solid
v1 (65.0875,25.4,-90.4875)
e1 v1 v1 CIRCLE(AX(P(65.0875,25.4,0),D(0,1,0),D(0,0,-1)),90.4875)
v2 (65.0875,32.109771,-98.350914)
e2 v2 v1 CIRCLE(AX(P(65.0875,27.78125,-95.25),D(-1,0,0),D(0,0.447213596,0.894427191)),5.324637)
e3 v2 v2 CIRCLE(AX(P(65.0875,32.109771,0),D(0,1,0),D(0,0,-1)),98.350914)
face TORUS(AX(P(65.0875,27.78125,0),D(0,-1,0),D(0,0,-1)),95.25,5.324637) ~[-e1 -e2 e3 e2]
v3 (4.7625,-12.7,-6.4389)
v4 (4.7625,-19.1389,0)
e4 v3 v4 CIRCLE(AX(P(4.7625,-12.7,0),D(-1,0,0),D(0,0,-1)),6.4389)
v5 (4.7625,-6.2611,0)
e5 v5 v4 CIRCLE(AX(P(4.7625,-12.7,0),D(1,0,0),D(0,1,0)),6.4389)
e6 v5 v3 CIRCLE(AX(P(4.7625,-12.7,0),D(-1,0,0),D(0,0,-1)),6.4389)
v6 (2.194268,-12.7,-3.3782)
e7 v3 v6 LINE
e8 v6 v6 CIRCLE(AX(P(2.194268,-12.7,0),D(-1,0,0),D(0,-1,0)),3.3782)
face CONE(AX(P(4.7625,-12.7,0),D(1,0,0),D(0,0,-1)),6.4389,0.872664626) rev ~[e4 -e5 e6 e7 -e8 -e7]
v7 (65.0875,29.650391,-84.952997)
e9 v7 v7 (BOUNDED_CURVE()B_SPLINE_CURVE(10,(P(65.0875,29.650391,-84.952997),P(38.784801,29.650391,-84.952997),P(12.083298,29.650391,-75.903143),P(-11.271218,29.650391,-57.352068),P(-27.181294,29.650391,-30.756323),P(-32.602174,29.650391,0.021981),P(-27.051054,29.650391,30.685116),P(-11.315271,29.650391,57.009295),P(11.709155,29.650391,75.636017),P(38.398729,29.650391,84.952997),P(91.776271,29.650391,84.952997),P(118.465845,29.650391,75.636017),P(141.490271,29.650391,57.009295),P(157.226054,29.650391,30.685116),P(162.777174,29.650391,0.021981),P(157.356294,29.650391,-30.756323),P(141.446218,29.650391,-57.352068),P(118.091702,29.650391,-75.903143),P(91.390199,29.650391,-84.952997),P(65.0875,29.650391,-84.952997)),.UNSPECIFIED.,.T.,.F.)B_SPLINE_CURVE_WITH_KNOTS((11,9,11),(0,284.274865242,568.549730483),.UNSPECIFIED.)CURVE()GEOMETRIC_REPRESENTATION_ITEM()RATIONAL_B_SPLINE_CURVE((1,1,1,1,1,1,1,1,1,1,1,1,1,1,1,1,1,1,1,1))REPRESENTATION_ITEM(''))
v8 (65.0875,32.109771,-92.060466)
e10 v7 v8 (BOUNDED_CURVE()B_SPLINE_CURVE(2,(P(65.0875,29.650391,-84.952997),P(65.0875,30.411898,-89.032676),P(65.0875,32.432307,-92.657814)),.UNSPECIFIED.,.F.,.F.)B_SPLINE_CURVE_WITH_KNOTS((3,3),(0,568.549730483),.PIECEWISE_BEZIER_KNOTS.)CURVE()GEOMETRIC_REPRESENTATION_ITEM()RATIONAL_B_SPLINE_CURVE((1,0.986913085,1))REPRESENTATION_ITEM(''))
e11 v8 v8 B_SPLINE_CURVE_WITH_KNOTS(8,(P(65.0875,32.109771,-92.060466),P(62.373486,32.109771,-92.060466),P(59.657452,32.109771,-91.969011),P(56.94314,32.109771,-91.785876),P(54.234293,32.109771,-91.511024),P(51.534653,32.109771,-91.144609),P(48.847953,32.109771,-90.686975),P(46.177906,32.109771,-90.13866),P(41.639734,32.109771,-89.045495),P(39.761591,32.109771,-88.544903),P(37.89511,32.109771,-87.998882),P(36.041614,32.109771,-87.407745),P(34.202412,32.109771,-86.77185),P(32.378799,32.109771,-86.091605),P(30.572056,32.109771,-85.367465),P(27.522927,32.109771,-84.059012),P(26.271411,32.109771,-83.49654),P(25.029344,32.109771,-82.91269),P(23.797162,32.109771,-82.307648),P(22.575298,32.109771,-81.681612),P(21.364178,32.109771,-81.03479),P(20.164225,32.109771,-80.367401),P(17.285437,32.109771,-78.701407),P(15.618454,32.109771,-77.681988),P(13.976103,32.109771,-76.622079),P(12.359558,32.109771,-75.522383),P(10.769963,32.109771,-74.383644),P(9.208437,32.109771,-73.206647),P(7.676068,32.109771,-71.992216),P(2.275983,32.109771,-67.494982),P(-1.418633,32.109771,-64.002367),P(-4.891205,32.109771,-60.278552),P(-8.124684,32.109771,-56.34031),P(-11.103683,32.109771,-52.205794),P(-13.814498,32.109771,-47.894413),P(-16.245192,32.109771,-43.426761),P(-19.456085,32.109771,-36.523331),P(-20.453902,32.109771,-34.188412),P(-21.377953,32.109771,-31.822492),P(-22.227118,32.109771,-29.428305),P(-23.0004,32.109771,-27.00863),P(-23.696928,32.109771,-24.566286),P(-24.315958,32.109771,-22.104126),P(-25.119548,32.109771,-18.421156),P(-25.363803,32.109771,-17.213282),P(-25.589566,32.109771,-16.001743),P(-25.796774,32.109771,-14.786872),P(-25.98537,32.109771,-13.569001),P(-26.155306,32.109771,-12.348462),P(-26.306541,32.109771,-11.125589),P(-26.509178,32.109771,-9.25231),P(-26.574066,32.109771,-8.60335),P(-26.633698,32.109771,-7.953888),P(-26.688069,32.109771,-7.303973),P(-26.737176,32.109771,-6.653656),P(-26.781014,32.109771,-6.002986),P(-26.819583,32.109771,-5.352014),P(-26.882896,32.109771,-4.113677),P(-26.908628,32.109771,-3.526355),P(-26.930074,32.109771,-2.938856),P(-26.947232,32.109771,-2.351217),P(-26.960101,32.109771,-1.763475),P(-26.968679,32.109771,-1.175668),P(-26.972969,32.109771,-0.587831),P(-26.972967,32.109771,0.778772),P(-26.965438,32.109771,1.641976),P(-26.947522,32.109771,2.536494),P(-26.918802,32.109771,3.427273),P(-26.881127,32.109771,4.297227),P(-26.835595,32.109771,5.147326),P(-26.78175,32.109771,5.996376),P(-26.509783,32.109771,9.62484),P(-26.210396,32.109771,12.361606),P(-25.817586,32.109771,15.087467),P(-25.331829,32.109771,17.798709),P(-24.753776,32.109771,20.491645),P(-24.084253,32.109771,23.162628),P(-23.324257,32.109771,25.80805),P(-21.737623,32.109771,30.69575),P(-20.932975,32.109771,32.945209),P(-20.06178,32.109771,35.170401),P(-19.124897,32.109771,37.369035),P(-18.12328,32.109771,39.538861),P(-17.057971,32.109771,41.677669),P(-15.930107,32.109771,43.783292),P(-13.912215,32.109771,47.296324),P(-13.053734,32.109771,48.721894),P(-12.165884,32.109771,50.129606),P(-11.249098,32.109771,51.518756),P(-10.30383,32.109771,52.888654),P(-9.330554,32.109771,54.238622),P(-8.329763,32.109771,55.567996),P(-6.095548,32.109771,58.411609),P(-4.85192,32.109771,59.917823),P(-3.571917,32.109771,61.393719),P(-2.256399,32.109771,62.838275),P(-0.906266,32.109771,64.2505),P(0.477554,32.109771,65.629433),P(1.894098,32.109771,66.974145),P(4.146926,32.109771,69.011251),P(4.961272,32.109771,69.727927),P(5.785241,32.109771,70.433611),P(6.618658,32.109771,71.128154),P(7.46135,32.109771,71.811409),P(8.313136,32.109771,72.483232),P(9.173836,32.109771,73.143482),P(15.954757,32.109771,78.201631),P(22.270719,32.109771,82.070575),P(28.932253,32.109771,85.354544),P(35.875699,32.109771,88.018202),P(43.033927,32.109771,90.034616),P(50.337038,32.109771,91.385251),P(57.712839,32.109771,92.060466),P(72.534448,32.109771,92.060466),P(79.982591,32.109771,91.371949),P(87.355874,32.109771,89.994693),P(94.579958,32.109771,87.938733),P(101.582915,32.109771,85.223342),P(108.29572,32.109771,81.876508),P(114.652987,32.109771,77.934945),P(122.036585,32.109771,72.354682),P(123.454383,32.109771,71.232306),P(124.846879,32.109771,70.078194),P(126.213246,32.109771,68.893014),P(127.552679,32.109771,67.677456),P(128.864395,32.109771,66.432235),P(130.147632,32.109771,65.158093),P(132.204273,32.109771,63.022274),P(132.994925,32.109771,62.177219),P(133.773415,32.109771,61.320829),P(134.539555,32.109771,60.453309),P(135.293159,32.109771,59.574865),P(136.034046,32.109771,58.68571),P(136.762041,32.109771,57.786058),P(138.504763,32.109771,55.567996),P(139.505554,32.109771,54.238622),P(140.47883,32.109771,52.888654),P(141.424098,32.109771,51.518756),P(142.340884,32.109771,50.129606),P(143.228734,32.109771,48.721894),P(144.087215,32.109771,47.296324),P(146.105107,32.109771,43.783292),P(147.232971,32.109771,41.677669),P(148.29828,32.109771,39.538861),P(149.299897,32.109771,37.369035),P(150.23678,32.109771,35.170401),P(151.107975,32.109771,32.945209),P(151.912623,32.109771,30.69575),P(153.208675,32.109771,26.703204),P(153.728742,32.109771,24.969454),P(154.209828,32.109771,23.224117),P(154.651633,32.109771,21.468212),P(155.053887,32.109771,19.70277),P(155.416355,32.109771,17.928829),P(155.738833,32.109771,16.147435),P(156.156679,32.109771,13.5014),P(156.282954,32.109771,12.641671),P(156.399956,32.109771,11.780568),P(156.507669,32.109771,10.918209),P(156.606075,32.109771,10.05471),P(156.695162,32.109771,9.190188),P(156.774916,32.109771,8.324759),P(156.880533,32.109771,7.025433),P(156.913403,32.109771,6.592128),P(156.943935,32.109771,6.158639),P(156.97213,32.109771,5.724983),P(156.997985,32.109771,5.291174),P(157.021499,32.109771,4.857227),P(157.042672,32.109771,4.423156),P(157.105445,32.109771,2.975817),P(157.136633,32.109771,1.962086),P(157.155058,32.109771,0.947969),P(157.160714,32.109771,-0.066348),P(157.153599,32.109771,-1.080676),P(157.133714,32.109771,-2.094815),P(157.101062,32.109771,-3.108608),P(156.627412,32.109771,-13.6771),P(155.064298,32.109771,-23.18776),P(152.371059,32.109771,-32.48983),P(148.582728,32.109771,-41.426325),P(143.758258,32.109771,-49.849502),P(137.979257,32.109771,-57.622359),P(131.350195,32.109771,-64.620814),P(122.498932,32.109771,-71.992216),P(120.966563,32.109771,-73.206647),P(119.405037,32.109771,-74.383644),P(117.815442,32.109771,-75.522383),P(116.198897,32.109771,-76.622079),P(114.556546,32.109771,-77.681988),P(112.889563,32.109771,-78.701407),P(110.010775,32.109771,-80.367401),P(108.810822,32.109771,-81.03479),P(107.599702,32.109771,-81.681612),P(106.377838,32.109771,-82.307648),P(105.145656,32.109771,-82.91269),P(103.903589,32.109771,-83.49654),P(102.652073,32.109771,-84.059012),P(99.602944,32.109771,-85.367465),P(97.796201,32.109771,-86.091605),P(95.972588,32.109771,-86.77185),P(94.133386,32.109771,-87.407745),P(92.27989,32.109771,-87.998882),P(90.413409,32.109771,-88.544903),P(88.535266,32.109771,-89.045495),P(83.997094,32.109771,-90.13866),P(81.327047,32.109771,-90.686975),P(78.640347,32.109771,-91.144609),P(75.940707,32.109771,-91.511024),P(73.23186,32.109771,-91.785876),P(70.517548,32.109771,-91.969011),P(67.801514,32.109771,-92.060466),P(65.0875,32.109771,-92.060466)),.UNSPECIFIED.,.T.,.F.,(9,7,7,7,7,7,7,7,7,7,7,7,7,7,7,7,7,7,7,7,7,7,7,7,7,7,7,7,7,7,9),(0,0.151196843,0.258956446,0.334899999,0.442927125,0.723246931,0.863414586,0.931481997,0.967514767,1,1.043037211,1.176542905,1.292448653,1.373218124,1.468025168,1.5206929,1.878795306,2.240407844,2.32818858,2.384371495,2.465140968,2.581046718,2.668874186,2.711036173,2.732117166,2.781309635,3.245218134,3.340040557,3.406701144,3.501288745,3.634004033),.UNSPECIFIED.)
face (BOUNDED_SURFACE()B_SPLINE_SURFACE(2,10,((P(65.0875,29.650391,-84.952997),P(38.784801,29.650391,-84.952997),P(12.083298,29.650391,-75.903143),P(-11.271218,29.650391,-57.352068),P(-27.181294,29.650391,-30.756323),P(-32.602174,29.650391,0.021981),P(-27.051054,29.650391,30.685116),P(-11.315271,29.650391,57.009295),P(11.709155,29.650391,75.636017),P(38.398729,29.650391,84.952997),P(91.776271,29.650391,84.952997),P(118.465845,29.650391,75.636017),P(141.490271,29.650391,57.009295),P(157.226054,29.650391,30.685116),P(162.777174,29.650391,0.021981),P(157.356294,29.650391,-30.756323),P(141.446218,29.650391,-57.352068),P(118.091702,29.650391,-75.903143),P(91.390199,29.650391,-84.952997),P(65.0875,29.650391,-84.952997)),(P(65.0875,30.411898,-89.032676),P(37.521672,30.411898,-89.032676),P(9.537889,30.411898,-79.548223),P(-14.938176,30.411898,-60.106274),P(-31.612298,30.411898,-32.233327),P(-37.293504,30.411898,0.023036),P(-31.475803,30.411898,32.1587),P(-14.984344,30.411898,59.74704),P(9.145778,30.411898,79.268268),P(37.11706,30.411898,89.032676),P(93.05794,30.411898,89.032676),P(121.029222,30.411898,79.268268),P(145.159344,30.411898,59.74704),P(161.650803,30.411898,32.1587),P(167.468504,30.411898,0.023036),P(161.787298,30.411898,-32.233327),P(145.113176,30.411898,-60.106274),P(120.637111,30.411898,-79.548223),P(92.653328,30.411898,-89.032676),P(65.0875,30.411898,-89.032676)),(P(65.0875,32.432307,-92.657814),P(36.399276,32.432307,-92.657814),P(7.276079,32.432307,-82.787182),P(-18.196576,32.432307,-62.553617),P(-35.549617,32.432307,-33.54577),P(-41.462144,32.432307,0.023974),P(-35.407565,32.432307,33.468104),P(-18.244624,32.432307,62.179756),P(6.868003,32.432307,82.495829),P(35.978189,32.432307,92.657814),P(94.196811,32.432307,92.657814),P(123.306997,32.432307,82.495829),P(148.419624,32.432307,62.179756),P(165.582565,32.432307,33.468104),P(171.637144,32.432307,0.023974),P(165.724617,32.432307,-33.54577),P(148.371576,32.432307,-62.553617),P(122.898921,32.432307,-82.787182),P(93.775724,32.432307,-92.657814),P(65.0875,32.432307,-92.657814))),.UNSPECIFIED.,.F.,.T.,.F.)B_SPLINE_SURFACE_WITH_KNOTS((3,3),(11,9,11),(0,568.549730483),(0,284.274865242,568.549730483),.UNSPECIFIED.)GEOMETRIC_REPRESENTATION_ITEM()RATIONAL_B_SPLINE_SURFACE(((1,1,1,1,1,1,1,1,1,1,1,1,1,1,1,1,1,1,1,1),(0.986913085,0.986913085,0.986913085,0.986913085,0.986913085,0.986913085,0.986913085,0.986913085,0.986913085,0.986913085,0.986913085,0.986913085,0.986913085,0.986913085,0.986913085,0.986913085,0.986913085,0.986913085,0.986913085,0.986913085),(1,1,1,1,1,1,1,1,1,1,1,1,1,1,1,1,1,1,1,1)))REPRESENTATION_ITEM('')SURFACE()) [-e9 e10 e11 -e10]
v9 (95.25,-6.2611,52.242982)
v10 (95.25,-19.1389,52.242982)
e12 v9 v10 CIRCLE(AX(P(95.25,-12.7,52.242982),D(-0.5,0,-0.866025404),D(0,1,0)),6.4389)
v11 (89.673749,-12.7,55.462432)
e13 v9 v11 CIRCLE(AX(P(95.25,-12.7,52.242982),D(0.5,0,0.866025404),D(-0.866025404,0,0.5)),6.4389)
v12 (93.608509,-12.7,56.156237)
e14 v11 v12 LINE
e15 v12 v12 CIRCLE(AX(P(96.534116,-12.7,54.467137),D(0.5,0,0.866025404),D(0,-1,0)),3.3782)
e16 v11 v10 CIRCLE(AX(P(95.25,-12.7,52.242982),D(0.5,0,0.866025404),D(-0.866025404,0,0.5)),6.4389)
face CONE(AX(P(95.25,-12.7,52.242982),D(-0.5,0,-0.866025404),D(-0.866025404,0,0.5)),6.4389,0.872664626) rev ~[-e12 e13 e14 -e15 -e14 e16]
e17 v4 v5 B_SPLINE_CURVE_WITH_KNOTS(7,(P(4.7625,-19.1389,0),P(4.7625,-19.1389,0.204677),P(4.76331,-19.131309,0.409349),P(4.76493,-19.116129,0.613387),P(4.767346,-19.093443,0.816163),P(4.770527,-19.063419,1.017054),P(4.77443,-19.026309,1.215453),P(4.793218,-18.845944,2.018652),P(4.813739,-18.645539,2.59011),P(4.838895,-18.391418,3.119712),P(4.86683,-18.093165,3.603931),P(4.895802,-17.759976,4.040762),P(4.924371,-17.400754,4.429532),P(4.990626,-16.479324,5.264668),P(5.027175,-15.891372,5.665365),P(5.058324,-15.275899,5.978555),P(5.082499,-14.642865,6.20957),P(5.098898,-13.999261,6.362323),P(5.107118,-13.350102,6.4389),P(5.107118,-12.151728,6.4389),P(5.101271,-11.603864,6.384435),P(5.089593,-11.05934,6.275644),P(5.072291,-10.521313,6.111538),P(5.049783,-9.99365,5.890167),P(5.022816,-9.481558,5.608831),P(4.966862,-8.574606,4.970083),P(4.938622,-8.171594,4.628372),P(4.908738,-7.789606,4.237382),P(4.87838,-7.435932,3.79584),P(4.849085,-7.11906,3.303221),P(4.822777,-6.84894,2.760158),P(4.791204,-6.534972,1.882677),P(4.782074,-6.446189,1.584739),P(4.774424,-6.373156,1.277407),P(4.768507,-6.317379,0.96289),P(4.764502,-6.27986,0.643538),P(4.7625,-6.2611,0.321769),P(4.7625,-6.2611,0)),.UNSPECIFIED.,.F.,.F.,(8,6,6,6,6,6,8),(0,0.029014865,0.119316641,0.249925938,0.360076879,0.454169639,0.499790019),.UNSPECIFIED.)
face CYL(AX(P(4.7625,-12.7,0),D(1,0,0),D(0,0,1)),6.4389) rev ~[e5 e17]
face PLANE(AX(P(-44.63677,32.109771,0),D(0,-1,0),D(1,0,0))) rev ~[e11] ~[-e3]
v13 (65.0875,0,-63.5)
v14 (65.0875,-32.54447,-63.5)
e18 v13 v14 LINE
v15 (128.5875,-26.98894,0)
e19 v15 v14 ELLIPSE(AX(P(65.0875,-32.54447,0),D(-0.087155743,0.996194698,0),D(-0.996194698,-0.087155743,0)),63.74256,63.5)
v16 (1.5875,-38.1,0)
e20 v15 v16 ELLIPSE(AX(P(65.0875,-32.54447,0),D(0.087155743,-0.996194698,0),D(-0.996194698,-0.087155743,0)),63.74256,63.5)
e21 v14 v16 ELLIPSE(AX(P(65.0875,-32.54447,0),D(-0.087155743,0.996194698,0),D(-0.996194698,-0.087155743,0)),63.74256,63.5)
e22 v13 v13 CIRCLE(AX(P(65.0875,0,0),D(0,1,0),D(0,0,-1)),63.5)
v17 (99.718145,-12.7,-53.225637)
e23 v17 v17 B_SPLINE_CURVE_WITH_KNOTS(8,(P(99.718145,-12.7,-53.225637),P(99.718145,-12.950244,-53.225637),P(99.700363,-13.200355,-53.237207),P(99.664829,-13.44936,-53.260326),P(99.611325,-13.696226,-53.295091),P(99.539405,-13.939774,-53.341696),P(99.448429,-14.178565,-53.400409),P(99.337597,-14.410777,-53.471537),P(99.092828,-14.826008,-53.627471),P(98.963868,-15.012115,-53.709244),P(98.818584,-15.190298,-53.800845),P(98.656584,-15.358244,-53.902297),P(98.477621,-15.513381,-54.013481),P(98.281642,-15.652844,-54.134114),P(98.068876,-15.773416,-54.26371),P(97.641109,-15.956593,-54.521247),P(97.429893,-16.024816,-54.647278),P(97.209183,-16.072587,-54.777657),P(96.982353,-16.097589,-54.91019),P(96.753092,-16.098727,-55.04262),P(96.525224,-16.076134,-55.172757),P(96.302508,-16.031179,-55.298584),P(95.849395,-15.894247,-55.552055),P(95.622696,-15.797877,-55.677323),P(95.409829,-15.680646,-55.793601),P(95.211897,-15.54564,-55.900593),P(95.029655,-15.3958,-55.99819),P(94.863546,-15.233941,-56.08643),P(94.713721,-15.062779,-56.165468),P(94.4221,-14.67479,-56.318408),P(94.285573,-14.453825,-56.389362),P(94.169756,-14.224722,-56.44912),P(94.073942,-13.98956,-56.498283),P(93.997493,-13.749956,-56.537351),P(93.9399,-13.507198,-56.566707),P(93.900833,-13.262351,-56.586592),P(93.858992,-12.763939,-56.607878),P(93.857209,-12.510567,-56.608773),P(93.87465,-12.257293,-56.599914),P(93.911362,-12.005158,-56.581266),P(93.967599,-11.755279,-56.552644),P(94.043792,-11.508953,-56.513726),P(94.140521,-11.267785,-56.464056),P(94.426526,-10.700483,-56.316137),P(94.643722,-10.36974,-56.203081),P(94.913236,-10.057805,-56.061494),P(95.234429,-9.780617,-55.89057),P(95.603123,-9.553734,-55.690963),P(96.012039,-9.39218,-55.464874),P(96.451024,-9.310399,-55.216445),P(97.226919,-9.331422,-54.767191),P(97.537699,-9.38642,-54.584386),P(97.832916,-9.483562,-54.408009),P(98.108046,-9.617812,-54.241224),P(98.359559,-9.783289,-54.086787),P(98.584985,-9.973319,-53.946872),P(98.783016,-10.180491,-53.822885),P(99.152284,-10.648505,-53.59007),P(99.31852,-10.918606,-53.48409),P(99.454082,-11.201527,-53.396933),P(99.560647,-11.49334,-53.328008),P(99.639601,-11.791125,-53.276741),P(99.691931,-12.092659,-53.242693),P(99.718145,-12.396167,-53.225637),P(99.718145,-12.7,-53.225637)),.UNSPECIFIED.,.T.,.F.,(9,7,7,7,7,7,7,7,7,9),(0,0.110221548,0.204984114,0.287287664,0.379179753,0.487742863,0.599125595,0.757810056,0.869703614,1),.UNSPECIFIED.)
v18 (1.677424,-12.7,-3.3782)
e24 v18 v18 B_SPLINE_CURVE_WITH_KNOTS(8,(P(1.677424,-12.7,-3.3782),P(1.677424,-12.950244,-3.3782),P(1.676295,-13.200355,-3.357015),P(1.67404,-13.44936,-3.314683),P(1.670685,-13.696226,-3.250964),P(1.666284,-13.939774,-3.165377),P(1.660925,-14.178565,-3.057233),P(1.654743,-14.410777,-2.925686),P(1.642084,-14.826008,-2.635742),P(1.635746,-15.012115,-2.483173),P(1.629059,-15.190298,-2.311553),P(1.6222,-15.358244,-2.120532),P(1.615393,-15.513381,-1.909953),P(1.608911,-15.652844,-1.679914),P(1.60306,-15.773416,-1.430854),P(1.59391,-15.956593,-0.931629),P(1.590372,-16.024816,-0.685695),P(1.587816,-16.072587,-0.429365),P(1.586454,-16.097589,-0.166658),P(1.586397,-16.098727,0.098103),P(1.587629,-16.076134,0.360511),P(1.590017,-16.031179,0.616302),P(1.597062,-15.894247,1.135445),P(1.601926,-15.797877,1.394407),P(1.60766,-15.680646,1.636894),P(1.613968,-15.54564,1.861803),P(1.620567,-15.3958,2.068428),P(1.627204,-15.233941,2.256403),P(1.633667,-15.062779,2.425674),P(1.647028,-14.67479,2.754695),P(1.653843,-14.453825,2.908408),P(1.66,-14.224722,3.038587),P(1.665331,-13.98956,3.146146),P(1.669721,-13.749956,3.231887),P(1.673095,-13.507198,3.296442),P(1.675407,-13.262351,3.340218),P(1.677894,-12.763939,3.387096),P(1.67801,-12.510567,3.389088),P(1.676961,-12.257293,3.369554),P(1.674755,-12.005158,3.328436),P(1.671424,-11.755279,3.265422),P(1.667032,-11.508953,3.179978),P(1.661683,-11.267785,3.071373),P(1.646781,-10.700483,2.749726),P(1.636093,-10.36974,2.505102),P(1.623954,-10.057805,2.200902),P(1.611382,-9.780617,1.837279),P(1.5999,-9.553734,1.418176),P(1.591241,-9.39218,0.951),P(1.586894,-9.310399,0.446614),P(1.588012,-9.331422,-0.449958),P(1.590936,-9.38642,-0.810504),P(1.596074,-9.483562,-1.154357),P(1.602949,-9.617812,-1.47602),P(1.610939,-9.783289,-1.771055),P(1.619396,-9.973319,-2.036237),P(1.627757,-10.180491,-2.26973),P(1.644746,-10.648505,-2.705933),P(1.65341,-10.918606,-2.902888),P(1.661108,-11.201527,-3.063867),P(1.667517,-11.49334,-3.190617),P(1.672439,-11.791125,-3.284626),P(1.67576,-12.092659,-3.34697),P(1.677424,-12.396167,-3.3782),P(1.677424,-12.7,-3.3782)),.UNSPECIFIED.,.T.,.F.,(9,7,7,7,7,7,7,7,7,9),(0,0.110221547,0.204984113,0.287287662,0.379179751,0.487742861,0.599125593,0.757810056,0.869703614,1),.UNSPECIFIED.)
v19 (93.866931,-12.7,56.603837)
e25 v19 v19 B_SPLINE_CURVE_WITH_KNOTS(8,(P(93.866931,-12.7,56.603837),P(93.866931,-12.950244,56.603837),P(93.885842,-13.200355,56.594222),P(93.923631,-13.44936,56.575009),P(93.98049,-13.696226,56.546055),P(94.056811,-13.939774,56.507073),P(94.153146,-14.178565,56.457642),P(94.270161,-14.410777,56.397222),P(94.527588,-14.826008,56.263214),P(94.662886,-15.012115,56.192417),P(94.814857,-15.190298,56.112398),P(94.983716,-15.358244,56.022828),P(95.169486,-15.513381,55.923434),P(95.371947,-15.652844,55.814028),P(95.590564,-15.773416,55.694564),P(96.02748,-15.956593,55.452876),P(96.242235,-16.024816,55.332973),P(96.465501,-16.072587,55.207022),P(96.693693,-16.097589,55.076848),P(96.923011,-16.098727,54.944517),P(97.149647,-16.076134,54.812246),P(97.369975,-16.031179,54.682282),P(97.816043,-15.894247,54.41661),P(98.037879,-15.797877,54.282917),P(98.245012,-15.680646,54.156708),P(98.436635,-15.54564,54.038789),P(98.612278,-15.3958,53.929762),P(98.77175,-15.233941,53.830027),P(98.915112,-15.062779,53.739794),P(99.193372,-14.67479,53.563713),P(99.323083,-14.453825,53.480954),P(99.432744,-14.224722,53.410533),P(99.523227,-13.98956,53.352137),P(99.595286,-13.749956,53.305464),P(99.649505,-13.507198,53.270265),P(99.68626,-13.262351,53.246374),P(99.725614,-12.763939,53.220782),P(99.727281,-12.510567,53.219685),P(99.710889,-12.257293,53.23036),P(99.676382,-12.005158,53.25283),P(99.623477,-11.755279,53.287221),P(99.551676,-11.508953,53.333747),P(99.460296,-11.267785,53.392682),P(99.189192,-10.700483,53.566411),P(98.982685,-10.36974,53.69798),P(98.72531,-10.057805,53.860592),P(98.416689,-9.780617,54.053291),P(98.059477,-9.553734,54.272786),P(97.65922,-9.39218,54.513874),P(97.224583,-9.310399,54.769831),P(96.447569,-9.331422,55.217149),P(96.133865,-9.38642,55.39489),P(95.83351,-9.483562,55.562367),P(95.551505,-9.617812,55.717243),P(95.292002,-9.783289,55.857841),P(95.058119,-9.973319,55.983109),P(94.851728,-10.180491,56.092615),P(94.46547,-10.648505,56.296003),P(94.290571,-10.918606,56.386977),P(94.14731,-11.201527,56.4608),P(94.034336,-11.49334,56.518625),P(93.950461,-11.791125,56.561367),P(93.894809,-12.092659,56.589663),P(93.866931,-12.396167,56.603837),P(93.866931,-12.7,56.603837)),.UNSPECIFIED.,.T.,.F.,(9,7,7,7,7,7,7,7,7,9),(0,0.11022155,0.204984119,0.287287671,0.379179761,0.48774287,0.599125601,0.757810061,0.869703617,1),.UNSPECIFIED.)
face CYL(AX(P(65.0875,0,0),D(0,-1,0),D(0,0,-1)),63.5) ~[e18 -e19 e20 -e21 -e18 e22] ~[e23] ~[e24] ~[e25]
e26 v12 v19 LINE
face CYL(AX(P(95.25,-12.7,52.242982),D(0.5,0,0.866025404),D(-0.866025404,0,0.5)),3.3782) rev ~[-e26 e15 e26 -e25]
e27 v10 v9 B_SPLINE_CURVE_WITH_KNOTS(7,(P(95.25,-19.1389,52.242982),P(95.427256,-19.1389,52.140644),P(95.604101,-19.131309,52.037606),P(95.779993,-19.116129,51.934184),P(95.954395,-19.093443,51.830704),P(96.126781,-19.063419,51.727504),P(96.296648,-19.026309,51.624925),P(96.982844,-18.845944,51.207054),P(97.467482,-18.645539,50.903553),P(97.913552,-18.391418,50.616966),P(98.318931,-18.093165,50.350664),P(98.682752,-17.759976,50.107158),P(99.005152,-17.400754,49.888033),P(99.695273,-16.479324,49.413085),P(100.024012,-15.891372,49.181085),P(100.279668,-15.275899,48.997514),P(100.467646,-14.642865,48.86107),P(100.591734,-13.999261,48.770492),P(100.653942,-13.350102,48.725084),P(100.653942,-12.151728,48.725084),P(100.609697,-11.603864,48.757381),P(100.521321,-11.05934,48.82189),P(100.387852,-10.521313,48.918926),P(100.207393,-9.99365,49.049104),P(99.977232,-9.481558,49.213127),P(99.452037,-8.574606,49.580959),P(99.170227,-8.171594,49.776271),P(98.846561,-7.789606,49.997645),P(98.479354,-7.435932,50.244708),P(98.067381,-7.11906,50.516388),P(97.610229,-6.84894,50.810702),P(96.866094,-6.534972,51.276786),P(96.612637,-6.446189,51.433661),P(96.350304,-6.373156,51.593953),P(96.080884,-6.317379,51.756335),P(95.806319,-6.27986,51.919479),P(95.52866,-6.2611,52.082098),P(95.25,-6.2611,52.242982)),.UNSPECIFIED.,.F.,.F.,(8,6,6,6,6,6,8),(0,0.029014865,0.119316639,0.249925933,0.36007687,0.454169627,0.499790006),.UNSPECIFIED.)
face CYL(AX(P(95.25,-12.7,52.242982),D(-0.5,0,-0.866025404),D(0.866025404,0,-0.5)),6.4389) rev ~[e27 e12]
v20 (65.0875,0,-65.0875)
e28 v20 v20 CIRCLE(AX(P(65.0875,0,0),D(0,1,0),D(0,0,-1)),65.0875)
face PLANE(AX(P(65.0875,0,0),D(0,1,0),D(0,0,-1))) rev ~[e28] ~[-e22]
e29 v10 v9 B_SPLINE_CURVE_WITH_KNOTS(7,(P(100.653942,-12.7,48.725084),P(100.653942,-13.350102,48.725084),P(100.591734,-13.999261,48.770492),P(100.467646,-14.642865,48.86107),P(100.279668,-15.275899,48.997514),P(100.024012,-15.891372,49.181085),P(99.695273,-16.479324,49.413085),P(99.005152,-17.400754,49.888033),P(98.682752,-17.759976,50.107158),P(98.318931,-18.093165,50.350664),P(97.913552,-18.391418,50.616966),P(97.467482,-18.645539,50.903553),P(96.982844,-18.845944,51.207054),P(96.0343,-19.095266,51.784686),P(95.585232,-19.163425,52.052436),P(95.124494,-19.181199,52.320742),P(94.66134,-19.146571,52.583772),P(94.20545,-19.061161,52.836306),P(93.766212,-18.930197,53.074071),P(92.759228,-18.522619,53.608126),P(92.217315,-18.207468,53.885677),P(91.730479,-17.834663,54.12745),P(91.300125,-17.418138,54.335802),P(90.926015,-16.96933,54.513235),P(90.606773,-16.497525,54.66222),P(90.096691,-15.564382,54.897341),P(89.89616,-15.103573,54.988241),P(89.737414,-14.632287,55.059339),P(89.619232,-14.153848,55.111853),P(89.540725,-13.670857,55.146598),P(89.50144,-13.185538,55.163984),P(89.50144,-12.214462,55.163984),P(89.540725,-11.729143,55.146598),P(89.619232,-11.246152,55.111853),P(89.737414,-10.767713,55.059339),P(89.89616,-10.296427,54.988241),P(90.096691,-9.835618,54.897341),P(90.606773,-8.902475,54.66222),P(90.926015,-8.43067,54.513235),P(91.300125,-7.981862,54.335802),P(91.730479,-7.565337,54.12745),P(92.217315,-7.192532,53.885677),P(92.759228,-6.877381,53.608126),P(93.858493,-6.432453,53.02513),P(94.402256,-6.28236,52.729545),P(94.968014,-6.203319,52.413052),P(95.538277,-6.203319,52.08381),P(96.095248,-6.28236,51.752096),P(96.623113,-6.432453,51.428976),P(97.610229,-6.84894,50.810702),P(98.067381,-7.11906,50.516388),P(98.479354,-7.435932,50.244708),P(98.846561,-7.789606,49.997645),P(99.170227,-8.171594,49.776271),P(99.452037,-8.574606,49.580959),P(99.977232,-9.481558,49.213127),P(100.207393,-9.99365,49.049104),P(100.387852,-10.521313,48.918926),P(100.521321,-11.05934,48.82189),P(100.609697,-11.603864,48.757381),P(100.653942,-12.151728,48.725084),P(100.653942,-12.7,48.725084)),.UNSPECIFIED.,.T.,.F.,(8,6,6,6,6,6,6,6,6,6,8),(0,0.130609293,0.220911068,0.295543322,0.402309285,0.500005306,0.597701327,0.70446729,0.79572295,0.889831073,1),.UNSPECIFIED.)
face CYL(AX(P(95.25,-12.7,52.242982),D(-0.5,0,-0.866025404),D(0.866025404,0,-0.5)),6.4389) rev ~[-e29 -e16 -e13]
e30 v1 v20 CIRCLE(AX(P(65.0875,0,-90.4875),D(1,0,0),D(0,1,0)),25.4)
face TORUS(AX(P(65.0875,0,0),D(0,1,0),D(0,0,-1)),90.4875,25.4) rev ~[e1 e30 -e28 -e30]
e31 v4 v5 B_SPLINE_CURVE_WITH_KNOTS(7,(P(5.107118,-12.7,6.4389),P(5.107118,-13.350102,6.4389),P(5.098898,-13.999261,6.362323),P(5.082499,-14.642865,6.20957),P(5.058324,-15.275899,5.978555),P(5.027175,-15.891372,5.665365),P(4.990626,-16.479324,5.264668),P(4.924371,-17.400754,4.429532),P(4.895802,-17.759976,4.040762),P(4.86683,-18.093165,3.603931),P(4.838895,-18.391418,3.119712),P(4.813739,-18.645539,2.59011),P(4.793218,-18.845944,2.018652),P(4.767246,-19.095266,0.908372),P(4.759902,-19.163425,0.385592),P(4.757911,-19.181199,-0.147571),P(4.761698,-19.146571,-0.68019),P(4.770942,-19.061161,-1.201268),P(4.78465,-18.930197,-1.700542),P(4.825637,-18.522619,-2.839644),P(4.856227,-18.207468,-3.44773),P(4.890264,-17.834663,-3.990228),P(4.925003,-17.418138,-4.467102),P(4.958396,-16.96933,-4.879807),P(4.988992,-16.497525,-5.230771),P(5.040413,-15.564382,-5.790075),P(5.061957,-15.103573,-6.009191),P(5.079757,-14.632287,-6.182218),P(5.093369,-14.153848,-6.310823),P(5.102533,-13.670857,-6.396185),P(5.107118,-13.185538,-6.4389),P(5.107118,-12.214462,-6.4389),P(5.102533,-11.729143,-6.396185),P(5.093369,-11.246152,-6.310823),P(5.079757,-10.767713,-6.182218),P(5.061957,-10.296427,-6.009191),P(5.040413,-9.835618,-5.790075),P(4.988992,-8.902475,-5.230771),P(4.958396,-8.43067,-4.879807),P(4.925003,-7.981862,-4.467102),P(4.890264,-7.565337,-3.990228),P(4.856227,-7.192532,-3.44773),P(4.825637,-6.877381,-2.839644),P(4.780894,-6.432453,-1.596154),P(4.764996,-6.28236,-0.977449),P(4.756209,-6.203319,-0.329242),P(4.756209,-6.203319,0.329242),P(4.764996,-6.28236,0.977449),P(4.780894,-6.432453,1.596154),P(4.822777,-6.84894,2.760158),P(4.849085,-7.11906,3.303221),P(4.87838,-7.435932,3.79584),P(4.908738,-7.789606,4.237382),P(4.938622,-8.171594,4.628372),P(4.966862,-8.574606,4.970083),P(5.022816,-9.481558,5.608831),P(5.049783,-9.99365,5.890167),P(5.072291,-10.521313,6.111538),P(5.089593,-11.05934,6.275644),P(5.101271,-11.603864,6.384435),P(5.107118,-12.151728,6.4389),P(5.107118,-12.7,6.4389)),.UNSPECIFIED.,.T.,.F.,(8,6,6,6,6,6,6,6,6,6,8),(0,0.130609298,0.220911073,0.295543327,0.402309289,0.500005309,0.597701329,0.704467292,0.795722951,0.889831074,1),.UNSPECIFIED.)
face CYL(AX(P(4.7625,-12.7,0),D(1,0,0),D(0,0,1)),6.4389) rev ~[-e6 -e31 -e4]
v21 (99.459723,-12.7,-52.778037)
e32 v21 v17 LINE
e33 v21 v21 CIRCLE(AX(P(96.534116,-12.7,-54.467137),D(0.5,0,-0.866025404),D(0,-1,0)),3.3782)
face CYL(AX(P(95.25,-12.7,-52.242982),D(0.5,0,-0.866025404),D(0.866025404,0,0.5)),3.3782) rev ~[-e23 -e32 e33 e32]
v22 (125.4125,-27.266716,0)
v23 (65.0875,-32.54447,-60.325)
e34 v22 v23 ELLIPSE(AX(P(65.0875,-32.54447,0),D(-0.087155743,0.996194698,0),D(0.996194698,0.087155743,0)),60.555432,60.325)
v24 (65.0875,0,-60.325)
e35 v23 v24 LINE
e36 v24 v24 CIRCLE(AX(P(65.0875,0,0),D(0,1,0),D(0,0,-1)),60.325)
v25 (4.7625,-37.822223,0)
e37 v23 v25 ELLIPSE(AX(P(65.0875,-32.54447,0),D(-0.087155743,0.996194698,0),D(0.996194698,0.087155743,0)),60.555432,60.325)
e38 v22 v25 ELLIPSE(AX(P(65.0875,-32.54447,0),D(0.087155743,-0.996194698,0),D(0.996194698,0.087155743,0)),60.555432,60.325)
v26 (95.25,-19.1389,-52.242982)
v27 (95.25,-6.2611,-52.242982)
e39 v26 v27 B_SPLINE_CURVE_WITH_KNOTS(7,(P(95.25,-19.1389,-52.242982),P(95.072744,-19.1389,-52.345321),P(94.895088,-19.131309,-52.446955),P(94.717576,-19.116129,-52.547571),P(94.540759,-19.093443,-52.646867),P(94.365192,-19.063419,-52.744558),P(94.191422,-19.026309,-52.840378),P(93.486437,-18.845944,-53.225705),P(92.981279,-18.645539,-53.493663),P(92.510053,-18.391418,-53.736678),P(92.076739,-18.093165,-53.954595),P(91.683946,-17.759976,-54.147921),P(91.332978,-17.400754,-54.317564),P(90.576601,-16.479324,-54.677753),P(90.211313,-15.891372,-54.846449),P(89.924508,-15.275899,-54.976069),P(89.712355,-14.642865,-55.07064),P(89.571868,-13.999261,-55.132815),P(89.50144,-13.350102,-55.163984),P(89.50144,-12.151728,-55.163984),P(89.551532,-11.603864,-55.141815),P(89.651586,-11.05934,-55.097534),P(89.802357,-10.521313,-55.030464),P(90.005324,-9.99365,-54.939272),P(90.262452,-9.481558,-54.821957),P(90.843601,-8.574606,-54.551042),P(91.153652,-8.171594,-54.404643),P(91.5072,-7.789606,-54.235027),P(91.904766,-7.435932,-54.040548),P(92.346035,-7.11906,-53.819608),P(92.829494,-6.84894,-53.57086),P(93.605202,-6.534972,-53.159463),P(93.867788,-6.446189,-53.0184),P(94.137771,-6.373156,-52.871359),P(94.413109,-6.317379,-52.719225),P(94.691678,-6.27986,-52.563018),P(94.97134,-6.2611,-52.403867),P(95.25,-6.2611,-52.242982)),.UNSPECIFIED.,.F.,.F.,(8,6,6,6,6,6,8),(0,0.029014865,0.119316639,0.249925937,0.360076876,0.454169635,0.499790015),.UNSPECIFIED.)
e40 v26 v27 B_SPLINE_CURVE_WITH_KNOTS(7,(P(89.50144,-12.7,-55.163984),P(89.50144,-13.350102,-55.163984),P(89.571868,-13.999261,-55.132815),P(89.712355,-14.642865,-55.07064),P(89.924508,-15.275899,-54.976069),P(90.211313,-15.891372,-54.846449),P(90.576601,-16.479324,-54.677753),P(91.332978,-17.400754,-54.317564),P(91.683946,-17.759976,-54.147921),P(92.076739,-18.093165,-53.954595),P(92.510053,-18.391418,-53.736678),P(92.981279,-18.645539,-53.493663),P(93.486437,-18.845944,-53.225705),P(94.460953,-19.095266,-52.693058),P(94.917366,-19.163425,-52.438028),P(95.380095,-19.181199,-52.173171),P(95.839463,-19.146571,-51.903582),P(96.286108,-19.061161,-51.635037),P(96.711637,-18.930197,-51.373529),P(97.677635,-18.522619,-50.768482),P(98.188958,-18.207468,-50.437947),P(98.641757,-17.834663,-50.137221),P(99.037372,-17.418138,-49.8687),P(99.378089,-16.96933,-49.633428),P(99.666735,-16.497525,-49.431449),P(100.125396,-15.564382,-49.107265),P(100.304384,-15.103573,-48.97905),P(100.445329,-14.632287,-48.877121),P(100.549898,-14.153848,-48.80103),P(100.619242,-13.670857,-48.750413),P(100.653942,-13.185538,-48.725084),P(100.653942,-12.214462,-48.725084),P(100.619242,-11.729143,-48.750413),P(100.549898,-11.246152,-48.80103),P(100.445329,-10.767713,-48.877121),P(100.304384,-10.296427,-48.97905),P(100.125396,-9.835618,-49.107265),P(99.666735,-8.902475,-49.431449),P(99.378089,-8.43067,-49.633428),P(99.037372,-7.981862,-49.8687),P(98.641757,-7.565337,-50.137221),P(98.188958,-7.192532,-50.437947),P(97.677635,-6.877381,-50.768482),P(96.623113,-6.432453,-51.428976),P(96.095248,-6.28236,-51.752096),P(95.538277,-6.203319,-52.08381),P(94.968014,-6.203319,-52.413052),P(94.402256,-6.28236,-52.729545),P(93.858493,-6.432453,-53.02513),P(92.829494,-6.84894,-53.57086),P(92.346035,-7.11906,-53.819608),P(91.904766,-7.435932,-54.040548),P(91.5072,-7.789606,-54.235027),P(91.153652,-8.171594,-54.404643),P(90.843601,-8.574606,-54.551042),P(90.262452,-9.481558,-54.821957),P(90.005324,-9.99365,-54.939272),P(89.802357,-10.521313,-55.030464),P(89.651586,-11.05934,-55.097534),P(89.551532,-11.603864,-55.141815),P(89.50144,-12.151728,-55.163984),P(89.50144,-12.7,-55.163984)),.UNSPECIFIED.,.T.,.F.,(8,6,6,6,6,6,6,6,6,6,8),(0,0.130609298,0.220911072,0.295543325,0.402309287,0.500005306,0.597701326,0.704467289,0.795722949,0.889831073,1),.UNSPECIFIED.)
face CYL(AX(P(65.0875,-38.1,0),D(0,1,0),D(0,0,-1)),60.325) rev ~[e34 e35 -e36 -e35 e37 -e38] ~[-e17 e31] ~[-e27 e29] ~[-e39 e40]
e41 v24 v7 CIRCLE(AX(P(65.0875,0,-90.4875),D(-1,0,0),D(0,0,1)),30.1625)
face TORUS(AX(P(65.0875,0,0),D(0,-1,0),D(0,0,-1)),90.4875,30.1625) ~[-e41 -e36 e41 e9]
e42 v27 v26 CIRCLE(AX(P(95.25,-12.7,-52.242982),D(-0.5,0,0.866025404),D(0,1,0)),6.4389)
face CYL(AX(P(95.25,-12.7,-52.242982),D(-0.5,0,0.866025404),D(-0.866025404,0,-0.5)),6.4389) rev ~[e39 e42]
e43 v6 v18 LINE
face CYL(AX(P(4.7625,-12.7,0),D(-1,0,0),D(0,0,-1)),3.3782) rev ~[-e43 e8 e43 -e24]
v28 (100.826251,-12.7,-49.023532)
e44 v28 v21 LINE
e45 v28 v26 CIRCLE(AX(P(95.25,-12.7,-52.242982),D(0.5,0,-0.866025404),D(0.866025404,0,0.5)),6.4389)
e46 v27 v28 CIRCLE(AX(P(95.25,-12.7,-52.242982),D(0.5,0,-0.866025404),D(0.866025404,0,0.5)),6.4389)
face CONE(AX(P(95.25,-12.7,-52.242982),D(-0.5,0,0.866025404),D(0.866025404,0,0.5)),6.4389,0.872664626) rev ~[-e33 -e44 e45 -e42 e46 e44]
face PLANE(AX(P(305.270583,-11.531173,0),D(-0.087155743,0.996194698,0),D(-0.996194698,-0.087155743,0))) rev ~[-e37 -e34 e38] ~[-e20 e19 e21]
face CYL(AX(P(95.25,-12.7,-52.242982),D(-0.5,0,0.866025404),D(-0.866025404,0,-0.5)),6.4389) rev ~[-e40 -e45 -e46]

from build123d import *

# Parameters (mm, degrees)
CUT_EXTRUDE1_DEPTH                                  = 198.511547075
CUT_EXTRUDE1_DEPTH_BACK                             = 198.511547075
CSK_FOR_1_4_FLAT_HEAD_MACHINE_SCREW_100_D           = 6.7564
CSK_FOR_1_4_FLAT_HEAD_MACHINE_SCREW_100_DEPTH       = 26.418979166
CSK_FOR_1_4_FLAT_HEAD_MACHINE_SCREW_100_CSINK_D     = 12.8778
CSK_FOR_1_4_FLAT_HEAD_MACHINE_SCREW_100_CSINK_ANGLE = 100
CIRPATTERN1_COUNT                                   = 3
FILLET1_R                                           = 25.4
SKETCH6_W                                           = 228.6
SKETCH6_H                                           = 42.39695855
CUT_EXTRUDE2_DEPTH                                  = 198.511547094
CUT_EXTRUDE2_DEPTH_BACK                             = 198.511547094


with BuildPart() as part:
    # Sketch2 → RevolvedVenturi-5inchOutsideDiaLower_2inchDeep (revolve)
    with BuildSketch(Plane.XY, mode=Mode.PRIVATE) as revolvedventuri_5inchoutsidedialower_2in_sk:
        with BuildLine():
            Line((0, 0), (1.5875, 0))
            Line((1.5875, 0), (1.5875, -38.1))
            Line((1.5875, -38.1), (4.7625, -38.1))
            Line((4.7625, -38.1), (4.7625, 0))
            ThreePointArc((4.7625, 0), (-4.071891712, 21.328108288), (-25.4, 30.1625))
            ThreePointArc((-25.4, 30.1625), (-35.487136871, 27.78125), (-25.4, 25.4))
            ThreePointArc((-25.4, 25.4), (-7.439487758, 17.960512242), (0, 0))
        make_face()
    revolve(revolvedventuri_5inchoutsidedialower_2in_sk.sketch.rotate(Axis((65.0875, -38.1, 0), (0, 1, 0)), 270), axis=Axis((65.0875, -38.1, 0), (0, 1, 0)))

    # Sketch3 → Cut-Extrude1 (cut, two sides)
    with BuildSketch(Plane.XY) as cut_extrude1_sk:
        Polygon((305.270582806, -11.53117295), (1.5875, -38.1), (5.893342851, -87.316008998), (309.576425657, -60.747181948), align=None)
    extrude(amount=CUT_EXTRUDE1_DEPTH, mode=Mode.SUBTRACT)
    extrude(cut_extrude1_sk.sketch, amount=-CUT_EXTRUDE1_DEPTH_BACK, mode=Mode.SUBTRACT)

    # CSK for 1/4 Flat Head Machine Screw (100)1
    with Locations(Plane(origin=(4.7625, -12.7, 0), x_dir=(0, 0, 1), z_dir=(1, 0, 0))):
        with Locations((0, 0)):
            csk_for_1_4_flat_head_machine_screw_100 = CounterSinkHole(CSK_FOR_1_4_FLAT_HEAD_MACHINE_SCREW_100_D / 2, CSK_FOR_1_4_FLAT_HEAD_MACHINE_SCREW_100_CSINK_D / 2, depth=CSK_FOR_1_4_FLAT_HEAD_MACHINE_SCREW_100_DEPTH, counter_sink_angle=CSK_FOR_1_4_FLAT_HEAD_MACHINE_SCREW_100_CSINK_ANGLE)

    # CirPattern1: CSK for 1/4 Flat Head Machine Screw (100)1 ×3 about axis
    cirpattern1_axis = Axis((65.0875, 0, 0), (0, -1, 0))
    for i in range(1, CIRPATTERN1_COUNT):
        add(csk_for_1_4_flat_head_machine_screw_100.rotate(cirpattern1_axis, i * 360 / CIRPATTERN1_COUNT), mode=Mode.SUBTRACT)

    # Fillet1
    fillet1_edges = [part.edges().sort_by_distance(p)[0] for p in [
        (65.0875, 30.1625, 90.4875),
    ]]
    fillet(fillet1_edges, radius=FILLET1_R)

    # Sketch6 → Cut-Extrude2 (cut, two sides)
    with BuildSketch(Plane.XY) as cut_extrude2_sk:
        with Locations((69.663229711, 53.30825)):
            Rectangle(SKETCH6_W, SKETCH6_H)
    extrude(amount=CUT_EXTRUDE2_DEPTH, mode=Mode.SUBTRACT)
    extrude(cut_extrude2_sk.sketch, amount=-CUT_EXTRUDE2_DEPTH_BACK, mode=Mode.SUBTRACT)


solid = part.part
